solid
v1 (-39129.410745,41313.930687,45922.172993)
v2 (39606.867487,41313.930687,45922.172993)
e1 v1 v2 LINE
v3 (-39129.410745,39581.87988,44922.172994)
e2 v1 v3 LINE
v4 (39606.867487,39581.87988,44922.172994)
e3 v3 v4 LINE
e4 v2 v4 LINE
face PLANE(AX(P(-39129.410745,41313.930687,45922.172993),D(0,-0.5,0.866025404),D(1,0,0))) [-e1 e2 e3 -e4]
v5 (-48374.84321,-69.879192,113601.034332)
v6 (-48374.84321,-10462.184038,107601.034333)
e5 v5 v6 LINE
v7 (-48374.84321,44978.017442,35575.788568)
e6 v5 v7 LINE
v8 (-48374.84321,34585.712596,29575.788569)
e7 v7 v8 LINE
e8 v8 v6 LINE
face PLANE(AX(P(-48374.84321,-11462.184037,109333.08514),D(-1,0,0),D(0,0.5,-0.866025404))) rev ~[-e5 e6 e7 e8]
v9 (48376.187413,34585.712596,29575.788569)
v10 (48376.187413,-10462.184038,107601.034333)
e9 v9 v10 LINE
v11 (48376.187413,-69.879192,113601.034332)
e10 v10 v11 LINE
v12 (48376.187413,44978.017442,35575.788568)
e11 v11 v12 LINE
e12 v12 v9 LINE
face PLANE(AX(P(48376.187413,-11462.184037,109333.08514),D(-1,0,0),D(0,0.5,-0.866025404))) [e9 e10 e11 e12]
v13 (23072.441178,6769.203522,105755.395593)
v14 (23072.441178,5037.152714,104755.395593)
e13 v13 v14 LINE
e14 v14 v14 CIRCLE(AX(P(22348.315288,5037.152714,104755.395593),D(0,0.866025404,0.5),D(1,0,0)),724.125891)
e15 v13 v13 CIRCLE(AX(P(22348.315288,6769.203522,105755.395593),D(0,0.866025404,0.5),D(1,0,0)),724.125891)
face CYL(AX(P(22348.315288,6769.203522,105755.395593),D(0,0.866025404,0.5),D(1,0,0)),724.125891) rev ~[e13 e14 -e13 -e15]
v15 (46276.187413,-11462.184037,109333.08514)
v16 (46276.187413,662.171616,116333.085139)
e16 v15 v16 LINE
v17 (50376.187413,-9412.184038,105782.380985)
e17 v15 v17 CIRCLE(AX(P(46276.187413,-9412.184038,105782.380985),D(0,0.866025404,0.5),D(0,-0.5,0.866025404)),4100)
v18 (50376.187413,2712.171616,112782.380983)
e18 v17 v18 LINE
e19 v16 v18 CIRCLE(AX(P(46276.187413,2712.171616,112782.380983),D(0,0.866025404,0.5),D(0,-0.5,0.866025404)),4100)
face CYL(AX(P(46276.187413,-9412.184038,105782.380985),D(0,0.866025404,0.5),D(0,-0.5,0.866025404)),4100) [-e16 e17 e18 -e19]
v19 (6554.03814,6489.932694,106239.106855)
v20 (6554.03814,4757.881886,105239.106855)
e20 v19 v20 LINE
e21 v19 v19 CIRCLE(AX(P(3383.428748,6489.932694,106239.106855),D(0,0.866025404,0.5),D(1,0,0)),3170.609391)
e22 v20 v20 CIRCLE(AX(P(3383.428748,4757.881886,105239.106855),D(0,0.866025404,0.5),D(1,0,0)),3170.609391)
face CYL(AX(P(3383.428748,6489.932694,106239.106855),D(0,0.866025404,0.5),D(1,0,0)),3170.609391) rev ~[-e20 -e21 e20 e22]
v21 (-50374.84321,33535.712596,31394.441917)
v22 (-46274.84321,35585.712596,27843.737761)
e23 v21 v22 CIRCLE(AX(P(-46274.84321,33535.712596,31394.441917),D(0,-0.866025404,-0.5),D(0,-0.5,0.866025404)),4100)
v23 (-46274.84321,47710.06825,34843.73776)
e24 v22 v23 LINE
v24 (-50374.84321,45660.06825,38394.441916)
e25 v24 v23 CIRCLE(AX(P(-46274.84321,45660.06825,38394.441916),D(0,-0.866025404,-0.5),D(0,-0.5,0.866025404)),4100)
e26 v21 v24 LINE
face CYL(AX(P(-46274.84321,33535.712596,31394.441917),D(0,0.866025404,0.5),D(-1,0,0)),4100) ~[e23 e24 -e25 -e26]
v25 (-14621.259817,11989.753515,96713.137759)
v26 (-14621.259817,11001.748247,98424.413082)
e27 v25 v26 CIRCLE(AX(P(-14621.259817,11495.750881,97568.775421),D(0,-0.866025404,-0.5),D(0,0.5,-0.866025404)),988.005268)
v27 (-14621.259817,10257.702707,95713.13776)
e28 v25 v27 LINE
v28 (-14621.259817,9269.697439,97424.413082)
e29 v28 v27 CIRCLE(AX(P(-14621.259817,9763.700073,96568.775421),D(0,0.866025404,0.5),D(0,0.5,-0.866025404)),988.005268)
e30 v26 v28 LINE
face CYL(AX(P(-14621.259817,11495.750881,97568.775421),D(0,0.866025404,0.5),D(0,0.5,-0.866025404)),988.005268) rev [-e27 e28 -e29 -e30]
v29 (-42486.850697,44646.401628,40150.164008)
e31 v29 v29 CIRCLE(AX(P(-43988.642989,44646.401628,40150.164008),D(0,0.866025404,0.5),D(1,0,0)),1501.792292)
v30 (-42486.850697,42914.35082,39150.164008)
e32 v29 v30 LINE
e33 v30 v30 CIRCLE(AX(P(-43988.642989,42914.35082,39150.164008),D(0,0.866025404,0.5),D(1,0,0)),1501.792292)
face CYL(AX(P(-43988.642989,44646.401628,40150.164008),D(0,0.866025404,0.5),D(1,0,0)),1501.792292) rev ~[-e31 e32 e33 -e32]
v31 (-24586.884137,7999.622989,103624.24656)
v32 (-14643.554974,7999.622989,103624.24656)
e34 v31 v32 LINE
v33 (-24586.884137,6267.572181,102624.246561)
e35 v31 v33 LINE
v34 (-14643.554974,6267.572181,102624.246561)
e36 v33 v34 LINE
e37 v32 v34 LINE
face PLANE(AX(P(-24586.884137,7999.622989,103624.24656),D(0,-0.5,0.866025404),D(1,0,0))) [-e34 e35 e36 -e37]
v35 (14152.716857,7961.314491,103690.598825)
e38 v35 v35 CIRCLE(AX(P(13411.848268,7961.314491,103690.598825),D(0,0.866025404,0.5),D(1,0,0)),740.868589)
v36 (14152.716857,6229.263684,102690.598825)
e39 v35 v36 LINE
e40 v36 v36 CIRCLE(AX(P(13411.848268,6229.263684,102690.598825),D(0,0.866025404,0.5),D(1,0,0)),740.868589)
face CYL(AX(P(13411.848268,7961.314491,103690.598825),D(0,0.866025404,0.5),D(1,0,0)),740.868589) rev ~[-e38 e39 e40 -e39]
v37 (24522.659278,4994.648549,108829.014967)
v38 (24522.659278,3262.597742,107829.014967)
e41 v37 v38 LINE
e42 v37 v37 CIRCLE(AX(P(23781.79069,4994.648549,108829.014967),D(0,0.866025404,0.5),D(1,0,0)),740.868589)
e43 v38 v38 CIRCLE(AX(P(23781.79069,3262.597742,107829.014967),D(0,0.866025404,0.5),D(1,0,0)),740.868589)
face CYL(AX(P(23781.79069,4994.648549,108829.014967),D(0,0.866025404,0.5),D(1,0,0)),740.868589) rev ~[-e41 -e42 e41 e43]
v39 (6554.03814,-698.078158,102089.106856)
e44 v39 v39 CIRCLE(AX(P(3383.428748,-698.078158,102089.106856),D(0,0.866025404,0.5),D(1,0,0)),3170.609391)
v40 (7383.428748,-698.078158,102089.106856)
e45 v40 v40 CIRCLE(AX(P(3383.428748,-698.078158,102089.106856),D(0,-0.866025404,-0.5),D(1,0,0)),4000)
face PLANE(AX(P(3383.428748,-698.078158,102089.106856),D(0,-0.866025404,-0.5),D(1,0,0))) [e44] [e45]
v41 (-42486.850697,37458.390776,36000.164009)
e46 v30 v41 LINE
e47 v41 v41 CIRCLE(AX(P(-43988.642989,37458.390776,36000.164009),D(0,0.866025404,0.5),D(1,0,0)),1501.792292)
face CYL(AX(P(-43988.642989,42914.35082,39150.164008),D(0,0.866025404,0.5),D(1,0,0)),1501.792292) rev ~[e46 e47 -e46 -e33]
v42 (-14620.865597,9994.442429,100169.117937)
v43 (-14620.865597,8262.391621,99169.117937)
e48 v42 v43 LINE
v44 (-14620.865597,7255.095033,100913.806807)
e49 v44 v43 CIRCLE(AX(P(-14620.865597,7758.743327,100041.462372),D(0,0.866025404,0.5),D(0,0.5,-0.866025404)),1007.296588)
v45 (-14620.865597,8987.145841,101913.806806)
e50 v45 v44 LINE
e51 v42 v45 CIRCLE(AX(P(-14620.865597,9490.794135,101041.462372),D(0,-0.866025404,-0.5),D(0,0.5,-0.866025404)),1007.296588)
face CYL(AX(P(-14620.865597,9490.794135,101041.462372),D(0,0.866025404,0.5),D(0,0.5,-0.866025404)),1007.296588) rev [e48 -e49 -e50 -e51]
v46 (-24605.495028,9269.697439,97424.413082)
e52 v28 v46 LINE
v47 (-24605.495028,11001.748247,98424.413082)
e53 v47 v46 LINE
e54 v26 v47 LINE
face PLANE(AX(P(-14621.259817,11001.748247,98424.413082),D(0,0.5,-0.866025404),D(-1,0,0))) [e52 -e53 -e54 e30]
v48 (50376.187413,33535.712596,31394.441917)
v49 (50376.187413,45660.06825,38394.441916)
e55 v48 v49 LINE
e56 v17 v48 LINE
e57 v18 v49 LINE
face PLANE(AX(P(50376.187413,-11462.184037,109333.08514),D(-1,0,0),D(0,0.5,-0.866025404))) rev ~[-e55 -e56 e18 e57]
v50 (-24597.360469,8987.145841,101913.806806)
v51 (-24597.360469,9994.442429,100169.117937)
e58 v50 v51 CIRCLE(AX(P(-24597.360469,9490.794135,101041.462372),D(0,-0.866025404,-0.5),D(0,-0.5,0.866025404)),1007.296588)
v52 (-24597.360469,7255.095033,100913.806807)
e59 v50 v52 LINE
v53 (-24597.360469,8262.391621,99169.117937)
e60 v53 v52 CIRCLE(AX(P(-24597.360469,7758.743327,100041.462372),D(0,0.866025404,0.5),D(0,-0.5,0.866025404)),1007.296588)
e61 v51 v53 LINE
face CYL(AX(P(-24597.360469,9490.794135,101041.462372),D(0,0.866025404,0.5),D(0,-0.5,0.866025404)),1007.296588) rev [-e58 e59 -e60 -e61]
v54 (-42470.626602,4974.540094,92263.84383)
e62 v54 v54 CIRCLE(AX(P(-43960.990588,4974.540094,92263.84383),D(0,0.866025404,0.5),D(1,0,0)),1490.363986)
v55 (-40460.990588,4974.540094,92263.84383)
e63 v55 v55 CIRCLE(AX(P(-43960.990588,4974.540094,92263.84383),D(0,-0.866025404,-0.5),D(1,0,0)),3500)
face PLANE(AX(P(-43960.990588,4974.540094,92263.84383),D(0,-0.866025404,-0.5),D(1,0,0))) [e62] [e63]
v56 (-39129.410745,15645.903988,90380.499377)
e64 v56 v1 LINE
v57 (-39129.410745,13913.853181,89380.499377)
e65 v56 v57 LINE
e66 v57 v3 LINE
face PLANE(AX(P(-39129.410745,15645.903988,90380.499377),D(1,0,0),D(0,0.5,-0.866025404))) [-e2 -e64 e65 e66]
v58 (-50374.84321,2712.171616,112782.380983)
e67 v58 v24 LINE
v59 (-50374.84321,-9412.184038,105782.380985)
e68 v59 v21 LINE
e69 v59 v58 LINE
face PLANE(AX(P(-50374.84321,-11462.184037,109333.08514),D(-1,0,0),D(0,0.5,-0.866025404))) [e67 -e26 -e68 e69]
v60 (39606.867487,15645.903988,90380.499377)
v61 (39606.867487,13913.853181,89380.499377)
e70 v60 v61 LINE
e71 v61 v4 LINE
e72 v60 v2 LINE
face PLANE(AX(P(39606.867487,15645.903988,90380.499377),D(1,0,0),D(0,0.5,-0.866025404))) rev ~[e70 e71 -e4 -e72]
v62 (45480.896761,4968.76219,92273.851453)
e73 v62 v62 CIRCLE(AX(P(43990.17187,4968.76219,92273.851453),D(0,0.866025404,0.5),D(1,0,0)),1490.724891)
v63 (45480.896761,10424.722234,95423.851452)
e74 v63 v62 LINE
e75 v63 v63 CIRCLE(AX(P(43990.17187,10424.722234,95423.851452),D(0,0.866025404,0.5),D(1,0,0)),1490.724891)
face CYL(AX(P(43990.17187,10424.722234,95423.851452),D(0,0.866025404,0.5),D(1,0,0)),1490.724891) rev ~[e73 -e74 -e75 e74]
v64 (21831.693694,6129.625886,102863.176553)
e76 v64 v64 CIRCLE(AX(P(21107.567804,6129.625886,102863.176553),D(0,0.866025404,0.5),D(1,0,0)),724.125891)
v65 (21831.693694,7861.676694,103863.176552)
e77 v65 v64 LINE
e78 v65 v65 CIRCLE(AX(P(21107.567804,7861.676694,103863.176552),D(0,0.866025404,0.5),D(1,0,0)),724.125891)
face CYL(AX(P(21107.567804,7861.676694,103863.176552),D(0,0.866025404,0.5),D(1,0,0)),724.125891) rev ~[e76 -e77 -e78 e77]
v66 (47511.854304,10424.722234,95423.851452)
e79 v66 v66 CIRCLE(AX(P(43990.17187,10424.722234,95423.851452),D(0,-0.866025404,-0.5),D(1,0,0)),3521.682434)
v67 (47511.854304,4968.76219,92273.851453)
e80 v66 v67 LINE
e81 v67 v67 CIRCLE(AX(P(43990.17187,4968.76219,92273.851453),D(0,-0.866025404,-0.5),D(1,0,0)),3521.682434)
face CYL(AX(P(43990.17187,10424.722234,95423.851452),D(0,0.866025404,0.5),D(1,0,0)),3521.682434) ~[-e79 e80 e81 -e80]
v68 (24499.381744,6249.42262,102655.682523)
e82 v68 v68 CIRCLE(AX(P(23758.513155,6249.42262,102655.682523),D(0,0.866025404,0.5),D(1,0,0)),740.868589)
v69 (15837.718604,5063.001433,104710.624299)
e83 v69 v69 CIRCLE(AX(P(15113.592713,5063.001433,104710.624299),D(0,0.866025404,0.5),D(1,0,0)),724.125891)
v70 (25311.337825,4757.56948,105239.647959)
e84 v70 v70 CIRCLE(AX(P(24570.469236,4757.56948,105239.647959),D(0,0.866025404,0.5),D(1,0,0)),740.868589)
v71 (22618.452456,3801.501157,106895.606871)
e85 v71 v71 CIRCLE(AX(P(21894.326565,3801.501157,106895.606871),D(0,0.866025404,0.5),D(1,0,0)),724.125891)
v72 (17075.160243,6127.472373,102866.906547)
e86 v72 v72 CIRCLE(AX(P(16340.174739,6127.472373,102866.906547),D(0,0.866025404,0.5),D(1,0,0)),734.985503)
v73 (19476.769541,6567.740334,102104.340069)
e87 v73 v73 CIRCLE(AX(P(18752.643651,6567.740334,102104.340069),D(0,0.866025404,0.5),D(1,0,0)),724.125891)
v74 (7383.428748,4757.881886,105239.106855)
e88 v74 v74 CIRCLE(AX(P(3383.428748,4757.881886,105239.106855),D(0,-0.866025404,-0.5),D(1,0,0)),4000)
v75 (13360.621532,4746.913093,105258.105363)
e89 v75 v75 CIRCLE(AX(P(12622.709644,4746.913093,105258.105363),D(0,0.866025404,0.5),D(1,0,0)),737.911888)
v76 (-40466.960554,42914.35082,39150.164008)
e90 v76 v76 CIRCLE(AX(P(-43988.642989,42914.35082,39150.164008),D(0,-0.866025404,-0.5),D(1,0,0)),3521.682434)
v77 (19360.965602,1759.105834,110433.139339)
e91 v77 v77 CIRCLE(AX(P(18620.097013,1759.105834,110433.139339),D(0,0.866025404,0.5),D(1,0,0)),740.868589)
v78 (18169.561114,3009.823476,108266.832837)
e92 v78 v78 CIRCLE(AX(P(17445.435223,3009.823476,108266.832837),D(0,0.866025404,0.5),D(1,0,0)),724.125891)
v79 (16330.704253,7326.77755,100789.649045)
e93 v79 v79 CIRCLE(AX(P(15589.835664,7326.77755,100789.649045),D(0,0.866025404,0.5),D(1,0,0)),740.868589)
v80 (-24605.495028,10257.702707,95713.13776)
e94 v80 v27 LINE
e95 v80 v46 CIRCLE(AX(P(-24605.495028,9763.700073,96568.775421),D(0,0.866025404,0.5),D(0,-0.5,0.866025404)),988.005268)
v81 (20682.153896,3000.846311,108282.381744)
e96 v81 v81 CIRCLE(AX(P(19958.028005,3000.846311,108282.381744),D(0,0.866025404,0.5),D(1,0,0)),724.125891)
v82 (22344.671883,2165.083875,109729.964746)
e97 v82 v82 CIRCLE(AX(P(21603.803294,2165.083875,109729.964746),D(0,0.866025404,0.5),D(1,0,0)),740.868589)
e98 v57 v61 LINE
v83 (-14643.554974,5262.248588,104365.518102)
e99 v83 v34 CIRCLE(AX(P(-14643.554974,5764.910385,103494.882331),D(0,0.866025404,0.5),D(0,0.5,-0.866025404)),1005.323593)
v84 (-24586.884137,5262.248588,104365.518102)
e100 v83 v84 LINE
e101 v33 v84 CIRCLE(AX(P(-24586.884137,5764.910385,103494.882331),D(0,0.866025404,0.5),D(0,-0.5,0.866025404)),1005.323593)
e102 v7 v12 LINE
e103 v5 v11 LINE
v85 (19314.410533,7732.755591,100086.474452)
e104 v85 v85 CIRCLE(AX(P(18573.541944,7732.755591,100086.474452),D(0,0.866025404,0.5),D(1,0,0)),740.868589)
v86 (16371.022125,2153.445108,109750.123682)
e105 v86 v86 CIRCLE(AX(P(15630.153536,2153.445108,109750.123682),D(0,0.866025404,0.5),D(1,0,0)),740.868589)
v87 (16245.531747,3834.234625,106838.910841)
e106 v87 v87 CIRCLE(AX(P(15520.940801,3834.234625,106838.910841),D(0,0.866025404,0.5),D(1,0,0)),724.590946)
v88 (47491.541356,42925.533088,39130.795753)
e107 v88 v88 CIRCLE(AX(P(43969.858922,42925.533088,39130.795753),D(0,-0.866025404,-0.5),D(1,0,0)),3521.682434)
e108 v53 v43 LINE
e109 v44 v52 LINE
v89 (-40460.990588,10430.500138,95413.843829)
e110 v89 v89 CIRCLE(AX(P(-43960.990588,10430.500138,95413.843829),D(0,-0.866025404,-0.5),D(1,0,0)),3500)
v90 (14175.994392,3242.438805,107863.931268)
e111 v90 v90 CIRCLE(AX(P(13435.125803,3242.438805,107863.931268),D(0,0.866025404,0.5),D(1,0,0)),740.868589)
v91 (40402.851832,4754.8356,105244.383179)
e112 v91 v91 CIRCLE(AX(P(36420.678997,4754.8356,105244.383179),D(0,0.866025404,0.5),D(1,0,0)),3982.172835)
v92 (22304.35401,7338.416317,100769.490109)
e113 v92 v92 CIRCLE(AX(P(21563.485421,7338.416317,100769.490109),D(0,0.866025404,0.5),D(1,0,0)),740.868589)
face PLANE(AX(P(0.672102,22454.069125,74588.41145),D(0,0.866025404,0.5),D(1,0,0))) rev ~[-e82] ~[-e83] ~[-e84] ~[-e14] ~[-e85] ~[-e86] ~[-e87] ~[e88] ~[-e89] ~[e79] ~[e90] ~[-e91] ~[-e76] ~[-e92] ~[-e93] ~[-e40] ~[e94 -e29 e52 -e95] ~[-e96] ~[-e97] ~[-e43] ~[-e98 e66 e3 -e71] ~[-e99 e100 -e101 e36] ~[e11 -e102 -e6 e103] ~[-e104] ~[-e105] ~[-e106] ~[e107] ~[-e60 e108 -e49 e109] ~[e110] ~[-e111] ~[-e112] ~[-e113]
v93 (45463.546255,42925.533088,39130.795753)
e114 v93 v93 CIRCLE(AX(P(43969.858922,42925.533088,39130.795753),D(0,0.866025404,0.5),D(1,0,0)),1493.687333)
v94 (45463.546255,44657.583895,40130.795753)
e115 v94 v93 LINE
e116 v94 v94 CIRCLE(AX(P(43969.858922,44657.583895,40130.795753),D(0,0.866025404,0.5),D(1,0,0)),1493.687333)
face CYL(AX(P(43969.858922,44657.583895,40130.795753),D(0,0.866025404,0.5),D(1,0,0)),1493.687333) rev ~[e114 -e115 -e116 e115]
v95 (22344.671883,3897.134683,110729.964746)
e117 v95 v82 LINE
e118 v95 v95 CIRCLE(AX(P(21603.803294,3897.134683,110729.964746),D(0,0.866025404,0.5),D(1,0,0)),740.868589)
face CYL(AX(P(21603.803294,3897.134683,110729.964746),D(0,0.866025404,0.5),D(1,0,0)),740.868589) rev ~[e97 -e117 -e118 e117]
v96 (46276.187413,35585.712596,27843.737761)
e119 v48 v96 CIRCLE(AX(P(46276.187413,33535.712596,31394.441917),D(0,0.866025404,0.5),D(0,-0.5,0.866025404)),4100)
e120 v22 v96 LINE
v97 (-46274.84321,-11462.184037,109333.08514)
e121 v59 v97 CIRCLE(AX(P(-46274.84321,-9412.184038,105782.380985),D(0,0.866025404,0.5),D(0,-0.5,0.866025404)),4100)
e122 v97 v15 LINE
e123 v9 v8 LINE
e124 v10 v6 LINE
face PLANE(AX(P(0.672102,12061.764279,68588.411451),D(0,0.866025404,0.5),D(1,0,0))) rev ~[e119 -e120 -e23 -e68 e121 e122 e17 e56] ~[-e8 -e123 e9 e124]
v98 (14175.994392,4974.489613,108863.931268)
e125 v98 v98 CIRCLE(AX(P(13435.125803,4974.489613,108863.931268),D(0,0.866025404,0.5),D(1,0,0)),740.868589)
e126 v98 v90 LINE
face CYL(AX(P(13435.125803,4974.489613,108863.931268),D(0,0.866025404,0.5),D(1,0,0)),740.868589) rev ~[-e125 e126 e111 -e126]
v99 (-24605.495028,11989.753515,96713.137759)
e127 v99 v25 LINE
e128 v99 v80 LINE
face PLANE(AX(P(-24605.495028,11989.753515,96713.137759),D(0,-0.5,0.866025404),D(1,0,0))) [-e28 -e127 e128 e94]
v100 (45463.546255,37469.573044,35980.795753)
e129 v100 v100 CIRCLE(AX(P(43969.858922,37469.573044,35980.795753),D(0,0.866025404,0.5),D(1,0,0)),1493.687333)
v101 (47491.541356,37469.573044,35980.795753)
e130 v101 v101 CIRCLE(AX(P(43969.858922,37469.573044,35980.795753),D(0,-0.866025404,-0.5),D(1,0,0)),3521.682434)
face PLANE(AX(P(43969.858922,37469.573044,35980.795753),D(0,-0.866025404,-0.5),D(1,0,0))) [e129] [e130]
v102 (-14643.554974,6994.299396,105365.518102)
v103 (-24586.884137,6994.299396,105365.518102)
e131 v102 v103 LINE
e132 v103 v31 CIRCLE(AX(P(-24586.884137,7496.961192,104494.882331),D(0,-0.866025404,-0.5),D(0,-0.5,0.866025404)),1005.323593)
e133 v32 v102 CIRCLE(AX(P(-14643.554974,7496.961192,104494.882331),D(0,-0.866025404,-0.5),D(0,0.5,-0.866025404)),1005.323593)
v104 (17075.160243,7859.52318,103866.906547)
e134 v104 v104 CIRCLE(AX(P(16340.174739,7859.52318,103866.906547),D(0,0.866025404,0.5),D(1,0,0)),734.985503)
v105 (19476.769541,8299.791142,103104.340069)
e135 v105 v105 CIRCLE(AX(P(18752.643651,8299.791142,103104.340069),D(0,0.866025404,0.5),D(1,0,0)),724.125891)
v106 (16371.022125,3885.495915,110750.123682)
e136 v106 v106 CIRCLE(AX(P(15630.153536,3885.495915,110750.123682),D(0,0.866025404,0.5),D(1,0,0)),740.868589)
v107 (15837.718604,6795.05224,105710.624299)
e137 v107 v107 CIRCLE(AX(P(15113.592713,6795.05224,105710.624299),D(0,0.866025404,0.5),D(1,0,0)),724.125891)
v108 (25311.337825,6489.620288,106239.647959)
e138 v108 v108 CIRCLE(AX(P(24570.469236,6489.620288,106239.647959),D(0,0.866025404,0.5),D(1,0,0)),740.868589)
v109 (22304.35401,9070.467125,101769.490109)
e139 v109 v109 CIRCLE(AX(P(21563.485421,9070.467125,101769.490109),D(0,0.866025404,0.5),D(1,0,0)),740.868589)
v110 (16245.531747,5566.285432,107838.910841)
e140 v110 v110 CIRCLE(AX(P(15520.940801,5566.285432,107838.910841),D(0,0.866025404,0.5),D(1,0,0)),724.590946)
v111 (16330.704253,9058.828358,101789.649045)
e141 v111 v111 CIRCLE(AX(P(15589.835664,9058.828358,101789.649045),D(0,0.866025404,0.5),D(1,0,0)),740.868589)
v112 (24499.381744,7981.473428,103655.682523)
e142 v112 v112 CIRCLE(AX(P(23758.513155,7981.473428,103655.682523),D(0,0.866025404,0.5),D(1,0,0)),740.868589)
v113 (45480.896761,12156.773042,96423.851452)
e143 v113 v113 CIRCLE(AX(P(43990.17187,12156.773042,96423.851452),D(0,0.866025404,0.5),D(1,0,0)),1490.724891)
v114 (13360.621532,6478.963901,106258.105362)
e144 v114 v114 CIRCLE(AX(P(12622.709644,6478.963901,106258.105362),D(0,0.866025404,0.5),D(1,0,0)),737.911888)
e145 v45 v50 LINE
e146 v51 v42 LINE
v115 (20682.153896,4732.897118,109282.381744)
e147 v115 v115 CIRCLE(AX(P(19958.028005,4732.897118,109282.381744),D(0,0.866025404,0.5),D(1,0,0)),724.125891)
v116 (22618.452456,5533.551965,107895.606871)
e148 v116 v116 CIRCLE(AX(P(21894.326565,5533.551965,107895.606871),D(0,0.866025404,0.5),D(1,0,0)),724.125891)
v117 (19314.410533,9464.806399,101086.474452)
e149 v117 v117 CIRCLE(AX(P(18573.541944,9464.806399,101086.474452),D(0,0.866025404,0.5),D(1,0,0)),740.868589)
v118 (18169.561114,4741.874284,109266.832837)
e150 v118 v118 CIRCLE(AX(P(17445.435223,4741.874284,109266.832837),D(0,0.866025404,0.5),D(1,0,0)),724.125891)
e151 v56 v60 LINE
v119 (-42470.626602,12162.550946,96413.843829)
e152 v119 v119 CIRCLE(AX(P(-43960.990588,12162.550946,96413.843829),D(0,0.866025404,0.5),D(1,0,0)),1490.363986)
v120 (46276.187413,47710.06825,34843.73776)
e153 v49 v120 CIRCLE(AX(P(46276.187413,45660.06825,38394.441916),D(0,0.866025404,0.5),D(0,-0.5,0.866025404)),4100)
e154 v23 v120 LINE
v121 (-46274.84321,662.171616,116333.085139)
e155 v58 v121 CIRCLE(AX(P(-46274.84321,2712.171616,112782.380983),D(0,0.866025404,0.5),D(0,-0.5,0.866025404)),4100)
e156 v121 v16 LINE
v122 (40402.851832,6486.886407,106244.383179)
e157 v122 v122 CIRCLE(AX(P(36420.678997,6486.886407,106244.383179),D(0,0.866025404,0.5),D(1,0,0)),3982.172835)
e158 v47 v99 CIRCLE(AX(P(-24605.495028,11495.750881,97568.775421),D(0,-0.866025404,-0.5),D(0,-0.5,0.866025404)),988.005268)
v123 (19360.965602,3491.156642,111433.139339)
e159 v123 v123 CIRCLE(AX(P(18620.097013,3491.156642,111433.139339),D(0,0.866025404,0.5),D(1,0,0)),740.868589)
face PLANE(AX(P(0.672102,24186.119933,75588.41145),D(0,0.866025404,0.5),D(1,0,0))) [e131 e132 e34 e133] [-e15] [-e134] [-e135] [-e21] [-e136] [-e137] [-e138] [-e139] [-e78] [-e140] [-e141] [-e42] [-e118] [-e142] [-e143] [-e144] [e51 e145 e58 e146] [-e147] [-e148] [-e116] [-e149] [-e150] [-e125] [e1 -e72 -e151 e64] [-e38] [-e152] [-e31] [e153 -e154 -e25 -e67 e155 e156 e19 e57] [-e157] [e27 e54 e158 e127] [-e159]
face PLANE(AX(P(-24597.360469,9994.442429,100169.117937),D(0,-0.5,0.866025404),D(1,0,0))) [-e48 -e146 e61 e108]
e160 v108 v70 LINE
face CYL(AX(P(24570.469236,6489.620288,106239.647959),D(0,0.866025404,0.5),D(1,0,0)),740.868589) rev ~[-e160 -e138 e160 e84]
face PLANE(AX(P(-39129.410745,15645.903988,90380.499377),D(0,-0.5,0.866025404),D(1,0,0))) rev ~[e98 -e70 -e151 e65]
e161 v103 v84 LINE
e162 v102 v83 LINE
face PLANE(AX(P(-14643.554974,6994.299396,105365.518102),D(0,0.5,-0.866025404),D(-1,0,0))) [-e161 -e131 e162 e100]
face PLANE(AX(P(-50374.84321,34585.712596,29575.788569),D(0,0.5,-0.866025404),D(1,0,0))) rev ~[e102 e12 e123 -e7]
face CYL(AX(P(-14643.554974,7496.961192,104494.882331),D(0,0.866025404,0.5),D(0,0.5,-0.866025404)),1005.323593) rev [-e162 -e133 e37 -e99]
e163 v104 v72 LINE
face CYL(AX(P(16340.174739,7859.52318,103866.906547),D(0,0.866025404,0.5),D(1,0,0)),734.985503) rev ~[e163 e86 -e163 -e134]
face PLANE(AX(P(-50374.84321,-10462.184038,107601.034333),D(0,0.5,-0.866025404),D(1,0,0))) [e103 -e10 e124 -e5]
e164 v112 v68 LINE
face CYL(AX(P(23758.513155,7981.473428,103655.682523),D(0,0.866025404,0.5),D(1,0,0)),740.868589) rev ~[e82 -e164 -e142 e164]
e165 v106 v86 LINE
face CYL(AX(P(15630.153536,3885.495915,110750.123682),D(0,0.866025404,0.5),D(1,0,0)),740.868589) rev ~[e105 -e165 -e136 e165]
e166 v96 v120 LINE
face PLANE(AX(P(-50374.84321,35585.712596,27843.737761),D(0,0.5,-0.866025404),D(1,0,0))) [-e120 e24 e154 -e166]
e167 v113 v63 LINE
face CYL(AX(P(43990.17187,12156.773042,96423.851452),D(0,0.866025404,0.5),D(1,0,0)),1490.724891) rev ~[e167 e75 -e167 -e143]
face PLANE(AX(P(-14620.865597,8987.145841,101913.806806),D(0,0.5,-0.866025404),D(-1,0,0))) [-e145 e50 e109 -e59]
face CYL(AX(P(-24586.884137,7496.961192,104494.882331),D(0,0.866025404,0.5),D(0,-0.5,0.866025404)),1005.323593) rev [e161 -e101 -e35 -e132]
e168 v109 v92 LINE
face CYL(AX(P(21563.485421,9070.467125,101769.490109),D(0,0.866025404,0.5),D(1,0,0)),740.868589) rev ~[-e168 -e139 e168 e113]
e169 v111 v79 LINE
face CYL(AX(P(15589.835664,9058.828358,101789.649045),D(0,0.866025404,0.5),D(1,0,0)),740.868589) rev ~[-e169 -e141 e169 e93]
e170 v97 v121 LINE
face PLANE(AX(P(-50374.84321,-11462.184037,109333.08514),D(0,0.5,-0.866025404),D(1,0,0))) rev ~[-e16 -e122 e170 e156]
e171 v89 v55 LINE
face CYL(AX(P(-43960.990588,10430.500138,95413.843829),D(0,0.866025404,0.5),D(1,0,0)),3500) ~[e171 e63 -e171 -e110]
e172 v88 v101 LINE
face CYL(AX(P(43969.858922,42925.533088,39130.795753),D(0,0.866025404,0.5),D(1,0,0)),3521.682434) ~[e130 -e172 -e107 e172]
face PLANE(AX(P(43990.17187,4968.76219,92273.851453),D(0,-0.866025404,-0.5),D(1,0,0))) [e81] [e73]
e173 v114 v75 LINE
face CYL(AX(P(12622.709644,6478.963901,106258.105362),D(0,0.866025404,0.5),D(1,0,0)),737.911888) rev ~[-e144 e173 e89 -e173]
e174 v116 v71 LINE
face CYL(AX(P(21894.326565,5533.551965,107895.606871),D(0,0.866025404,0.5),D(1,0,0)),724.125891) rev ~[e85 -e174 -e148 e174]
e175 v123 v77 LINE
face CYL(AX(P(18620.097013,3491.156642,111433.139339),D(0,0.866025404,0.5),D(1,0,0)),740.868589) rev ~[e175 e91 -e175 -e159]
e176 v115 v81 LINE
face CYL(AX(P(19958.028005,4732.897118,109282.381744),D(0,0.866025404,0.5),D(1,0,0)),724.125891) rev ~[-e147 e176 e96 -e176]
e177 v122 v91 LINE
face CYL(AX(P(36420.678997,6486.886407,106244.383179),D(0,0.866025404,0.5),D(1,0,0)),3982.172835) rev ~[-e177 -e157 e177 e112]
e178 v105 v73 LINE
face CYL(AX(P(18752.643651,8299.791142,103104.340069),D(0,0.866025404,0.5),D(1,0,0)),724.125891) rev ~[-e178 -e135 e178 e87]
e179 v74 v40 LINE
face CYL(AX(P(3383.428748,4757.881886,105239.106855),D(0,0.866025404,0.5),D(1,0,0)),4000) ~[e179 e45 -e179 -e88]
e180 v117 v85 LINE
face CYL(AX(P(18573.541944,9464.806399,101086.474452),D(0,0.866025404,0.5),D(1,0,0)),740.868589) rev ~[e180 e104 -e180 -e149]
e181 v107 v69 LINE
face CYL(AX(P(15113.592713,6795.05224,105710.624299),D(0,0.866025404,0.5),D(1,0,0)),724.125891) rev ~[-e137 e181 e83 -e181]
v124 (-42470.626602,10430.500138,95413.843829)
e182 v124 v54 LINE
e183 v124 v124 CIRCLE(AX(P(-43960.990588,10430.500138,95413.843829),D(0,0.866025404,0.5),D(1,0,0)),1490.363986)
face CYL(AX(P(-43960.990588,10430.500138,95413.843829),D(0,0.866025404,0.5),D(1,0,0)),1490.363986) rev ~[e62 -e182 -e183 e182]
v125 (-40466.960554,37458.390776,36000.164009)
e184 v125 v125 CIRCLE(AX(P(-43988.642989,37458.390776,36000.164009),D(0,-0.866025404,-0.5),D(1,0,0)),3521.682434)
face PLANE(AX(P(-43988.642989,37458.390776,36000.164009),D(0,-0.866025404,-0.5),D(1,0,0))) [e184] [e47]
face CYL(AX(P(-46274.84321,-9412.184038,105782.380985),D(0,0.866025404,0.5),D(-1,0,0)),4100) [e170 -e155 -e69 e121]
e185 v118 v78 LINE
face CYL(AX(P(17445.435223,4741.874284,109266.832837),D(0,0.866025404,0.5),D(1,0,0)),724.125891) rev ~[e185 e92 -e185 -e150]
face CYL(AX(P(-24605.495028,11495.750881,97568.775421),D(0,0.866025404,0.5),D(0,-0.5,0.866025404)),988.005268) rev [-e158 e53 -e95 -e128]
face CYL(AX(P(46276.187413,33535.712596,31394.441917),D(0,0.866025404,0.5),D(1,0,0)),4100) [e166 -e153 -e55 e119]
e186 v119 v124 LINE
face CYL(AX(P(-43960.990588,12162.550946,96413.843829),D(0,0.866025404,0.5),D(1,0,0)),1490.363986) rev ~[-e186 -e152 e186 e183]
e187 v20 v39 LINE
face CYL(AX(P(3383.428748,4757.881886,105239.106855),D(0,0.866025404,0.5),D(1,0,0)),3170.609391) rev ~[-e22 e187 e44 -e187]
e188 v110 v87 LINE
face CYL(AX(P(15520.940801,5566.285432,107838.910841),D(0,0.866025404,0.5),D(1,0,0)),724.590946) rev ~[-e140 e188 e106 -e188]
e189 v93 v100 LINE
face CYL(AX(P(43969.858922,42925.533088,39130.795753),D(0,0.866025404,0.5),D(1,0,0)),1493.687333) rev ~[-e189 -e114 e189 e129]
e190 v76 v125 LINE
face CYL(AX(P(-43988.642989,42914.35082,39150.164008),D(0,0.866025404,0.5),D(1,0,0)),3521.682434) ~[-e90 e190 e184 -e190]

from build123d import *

# Parameters (mm, degrees)
SKETCH3_W           = 100751.030623597
SKETCH3_H           = 94095.793284763
BOSS_EXTRUDE1_DEPTH = 14000
SHELL1_T            = -2000
SKETCH5_R           = 1501.792292058
SKETCH5_R_2         = 1493.687333369
SKETCH5_R_3         = 1490.724890678
SKETCH5_R_4         = 3982.172835147
SKETCH5_R_5         = 3170.60939126
SKETCH5_R_6         = 1490.363986071
SKETCH5_R_7         = 737.911888342
SKETCH5_R_8         = 740.868588869
SKETCH5_R_9         = 724.590945863
SKETCH5_R_10        = 724.125890616
SKETCH5_R_11        = 734.985503275
SKETCH5_W           = 78736.278232061
SKETCH5_H           = 51336.053407304
CUT_EXTRUDE1_DEPTH  = 54745.673686927
SKETCH7_R           = 3521.682434345
SKETCH7_R_2         = 3500
SKETCH7_R_3         = 4000
BOSS_EXTRUDE2_DEPTH = 6300
SKETCH8_R           = 3170.60939126
SKETCH8_R_2         = 1490.363986071
SKETCH8_R_3         = 1501.792292058
SKETCH8_R_4         = 1493.687333369
SKETCH8_R_5         = 1490.724890678
CUT_EXTRUDE2_DEPTH  = 52745.673686927
FILLET1_R           = 4100


with BuildPart() as part:
    # Sketch3 → Boss-Extrude1 (new body)
    with BuildSketch(Plane(origin=(0, 38745.976565316, 22370), x_dir=(1, 0, 0), z_dir=(0, 0.866025404, 0.5))):
        with Locations((0.672101581, -53368.424582)):
            Rectangle(SKETCH3_W, SKETCH3_H)
    extrude(amount=BOSS_EXTRUDE1_DEPTH)

    # Shell1
    shell1_openings = [part.faces().sort_by_distance(p)[0] for p in [
        (0.672101581, 12061.764274316, 68588.411447965),
    ]]
    offset(amount=SHELL1_T, openings=shell1_openings, kind=Kind.INTERSECTION)

    # Sketch5 → Cut-Extrude1 (cut, through all)
    with BuildSketch(Plane(origin=(0, 50870.332218298, 29370), x_dir=(1, 0, 0), z_dir=(0, 0.866025404, 0.5))):
        with Locations((-43988.642988716, -12447.86118339)):
            Circle(SKETCH5_R)
        with Locations((43969.858921507, -12425.496648286)):
            Circle(SKETCH5_R_2)
        with Locations((43990.171869975, -77427.118367554)):
            Circle(SKETCH5_R_3)
        with Locations((36420.678996585, -88766.891638688)):
            Circle(SKETCH5_R_4)
        with Locations((3383.428748484, -88760.799065072)):
            Circle(SKETCH5_R_5)
        with Locations((-43960.990588159, -77415.562559785)):
            Circle(SKETCH5_R_6)
        with Locations((12622.70964354, -88782.736651262)):
            Circle(SKETCH5_R_7)
        with Locations((13435.125802779, -91791.685227628)):
            Circle(SKETCH5_R_8)
        with Locations((15520.940800859, -90608.093588528)):
            Circle(SKETCH5_R_9)
        with Locations((15113.59271346, -88150.559972676)):
            Circle(SKETCH5_R_10)
        with Locations((16340.174739396, -86021.618091901)):
            Circle(SKETCH5_R_11)
        with Locations((18752.643650656, -85141.082169193)):
            Circle(SKETCH5_R_10)
        with Locations((21107.567803853, -86017.311065275)):
            Circle(SKETCH5_R_10)
        with Locations((22348.315287725, -88202.257409446)):
            Circle(SKETCH5_R_10)
        with Locations((21894.326565197, -90673.560524293)):
            Circle(SKETCH5_R_10)
        with Locations((19958.028005061, -92274.870216907)):
            Circle(SKETCH5_R_10)
        with Locations((17445.435223167, -92256.915885536)):
            Circle(SKETCH5_R_10)
        with Locations((13411.848268246, -85818.035470049)):
            Circle(SKETCH5_R_8)
        with Locations((15589.835663855, -83623.007736487)):
            Circle(SKETCH5_R_8)
        with Locations((18573.541944355, -82811.051655016)):
            Circle(SKETCH5_R_8)
        with Locations((21563.485421435, -83599.730201955)):
            Circle(SKETCH5_R_8)
        with Locations((23758.513154996, -85777.717597564)):
            Circle(SKETCH5_R_8)
        with Locations((24570.469236467, -88761.423878064)):
            Circle(SKETCH5_R_8)
        with Locations((23781.790689528, -91751.367355144)):
            Circle(SKETCH5_R_8)
        with Locations((21603.803293919, -93946.395088705)):
            Circle(SKETCH5_R_8)
        with Locations((18620.097013419, -94758.351170176)):
            Circle(SKETCH5_R_8)
        with Locations((15630.15353634, -93969.672623237)):
            Circle(SKETCH5_R_8)
        with BuildLine():
            Line((-24605.495027879, -77761.15742212), (-14621.25981654, -77761.15742212))
            ThreePointArc((-14621.25981654, -77761.15742212), (-13633.25454866, -78749.16269), (-14621.25981654, -79737.16795788))
            Line((-14621.25981654, -79737.16795788), (-24605.495027879, -79737.167957879))
            ThreePointArc((-24605.495027879, -79737.167957879), (-25593.500295759, -78749.16269), (-24605.495027879, -77761.15742212))
        make_face()
        with Locations((238.728370746, -44780.829769233)):
            Rectangle(SKETCH5_W, SKETCH5_H)
        with BuildLine():
            Line((-24597.360469483, -81751.779593879), (-14620.865597251, -81751.779593879))
            ThreePointArc((-14620.865597251, -81751.779593879), (-13613.569009088, -82759.076182042), (-14620.865597251, -83766.372770205))
            Line((-14620.865597251, -83766.372770205), (-24597.360469483, -83766.372770205))
            ThreePointArc((-24597.360469483, -83766.372770205), (-25604.657057646, -82759.076182042), (-24597.360469483, -81751.779593879))
        make_face()
        with BuildLine():
            Line((-24586.884137164, -85741.418474927), (-14643.554974413, -85741.418474927))
            ThreePointArc((-14643.554974413, -85741.418474927), (-13638.231381461, -86746.74206788), (-14643.554974413, -87752.065660833))
            Line((-14643.554974413, -87752.065660833), (-24586.884137164, -87752.065660833))
            ThreePointArc((-24586.884137164, -87752.065660833), (-25592.207730117, -86746.74206788), (-24586.884137164, -85741.418474927))
        make_face()
    extrude(amount=-CUT_EXTRUDE1_DEPTH, mode=Mode.SUBTRACT)

    # Sketch7 → Boss-Extrude2 (add)
    with BuildSketch(Plane(origin=(0, 49138.281410729, 28370), x_dir=(1, 0, 0), z_dir=(0, -0.866025404, -0.5))):
        with Locations((43969.858921507, 12425.496648286)):
            Circle(SKETCH7_R)
        with Locations((-43988.642988716, 12447.86118339)):
            Circle(SKETCH7_R)
        with Locations((-43960.990588159, 77415.562559785)):
            Circle(SKETCH7_R_2)
        with Locations((43990.171869975, 77427.118367554)):
            Circle(SKETCH7_R)
        with Locations((3383.428748484, 88760.799065072)):
            Circle(SKETCH7_R_3)
    extrude(amount=BOSS_EXTRUDE2_DEPTH)

    # Sketch8 → Cut-Extrude2 (cut, through all)
    with BuildSketch(Plane(origin=(0, 49138.281410729, 28370), x_dir=(1, 0, 0), z_dir=(0, 0.866025404, 0.5))):
        with Locations((3383.428748484, -88760.799065072)):
            Circle(SKETCH8_R)
        with Locations((-43960.990588159, -77415.562559785)):
            Circle(SKETCH8_R_2)
        with Locations((-43988.642988716, -12447.86118339)):
            Circle(SKETCH8_R_3)
        with Locations((43969.858921507, -12425.496648286)):
            Circle(SKETCH8_R_4)
        with Locations((43990.171869975, -77427.118367554)):
            Circle(SKETCH8_R_5)
    extrude(amount=-CUT_EXTRUDE2_DEPTH, mode=Mode.SUBTRACT)

    # Fillet1
    fillet1_edges = [part.edges().sort_by_distance(p)[0] for p in [
        (-50374.843210217, 41647.890421998, 31343.737761038),
        (50376.18741338, 41647.890421998, 31343.737761038),
        (50376.18741338, -5400.006220383, 112833.085134892),
        (-50374.843210217, -5400.006220383, 112833.085134892),
    ]]
    fillet(fillet1_edges, radius=FILLET1_R)


solid = part.part
